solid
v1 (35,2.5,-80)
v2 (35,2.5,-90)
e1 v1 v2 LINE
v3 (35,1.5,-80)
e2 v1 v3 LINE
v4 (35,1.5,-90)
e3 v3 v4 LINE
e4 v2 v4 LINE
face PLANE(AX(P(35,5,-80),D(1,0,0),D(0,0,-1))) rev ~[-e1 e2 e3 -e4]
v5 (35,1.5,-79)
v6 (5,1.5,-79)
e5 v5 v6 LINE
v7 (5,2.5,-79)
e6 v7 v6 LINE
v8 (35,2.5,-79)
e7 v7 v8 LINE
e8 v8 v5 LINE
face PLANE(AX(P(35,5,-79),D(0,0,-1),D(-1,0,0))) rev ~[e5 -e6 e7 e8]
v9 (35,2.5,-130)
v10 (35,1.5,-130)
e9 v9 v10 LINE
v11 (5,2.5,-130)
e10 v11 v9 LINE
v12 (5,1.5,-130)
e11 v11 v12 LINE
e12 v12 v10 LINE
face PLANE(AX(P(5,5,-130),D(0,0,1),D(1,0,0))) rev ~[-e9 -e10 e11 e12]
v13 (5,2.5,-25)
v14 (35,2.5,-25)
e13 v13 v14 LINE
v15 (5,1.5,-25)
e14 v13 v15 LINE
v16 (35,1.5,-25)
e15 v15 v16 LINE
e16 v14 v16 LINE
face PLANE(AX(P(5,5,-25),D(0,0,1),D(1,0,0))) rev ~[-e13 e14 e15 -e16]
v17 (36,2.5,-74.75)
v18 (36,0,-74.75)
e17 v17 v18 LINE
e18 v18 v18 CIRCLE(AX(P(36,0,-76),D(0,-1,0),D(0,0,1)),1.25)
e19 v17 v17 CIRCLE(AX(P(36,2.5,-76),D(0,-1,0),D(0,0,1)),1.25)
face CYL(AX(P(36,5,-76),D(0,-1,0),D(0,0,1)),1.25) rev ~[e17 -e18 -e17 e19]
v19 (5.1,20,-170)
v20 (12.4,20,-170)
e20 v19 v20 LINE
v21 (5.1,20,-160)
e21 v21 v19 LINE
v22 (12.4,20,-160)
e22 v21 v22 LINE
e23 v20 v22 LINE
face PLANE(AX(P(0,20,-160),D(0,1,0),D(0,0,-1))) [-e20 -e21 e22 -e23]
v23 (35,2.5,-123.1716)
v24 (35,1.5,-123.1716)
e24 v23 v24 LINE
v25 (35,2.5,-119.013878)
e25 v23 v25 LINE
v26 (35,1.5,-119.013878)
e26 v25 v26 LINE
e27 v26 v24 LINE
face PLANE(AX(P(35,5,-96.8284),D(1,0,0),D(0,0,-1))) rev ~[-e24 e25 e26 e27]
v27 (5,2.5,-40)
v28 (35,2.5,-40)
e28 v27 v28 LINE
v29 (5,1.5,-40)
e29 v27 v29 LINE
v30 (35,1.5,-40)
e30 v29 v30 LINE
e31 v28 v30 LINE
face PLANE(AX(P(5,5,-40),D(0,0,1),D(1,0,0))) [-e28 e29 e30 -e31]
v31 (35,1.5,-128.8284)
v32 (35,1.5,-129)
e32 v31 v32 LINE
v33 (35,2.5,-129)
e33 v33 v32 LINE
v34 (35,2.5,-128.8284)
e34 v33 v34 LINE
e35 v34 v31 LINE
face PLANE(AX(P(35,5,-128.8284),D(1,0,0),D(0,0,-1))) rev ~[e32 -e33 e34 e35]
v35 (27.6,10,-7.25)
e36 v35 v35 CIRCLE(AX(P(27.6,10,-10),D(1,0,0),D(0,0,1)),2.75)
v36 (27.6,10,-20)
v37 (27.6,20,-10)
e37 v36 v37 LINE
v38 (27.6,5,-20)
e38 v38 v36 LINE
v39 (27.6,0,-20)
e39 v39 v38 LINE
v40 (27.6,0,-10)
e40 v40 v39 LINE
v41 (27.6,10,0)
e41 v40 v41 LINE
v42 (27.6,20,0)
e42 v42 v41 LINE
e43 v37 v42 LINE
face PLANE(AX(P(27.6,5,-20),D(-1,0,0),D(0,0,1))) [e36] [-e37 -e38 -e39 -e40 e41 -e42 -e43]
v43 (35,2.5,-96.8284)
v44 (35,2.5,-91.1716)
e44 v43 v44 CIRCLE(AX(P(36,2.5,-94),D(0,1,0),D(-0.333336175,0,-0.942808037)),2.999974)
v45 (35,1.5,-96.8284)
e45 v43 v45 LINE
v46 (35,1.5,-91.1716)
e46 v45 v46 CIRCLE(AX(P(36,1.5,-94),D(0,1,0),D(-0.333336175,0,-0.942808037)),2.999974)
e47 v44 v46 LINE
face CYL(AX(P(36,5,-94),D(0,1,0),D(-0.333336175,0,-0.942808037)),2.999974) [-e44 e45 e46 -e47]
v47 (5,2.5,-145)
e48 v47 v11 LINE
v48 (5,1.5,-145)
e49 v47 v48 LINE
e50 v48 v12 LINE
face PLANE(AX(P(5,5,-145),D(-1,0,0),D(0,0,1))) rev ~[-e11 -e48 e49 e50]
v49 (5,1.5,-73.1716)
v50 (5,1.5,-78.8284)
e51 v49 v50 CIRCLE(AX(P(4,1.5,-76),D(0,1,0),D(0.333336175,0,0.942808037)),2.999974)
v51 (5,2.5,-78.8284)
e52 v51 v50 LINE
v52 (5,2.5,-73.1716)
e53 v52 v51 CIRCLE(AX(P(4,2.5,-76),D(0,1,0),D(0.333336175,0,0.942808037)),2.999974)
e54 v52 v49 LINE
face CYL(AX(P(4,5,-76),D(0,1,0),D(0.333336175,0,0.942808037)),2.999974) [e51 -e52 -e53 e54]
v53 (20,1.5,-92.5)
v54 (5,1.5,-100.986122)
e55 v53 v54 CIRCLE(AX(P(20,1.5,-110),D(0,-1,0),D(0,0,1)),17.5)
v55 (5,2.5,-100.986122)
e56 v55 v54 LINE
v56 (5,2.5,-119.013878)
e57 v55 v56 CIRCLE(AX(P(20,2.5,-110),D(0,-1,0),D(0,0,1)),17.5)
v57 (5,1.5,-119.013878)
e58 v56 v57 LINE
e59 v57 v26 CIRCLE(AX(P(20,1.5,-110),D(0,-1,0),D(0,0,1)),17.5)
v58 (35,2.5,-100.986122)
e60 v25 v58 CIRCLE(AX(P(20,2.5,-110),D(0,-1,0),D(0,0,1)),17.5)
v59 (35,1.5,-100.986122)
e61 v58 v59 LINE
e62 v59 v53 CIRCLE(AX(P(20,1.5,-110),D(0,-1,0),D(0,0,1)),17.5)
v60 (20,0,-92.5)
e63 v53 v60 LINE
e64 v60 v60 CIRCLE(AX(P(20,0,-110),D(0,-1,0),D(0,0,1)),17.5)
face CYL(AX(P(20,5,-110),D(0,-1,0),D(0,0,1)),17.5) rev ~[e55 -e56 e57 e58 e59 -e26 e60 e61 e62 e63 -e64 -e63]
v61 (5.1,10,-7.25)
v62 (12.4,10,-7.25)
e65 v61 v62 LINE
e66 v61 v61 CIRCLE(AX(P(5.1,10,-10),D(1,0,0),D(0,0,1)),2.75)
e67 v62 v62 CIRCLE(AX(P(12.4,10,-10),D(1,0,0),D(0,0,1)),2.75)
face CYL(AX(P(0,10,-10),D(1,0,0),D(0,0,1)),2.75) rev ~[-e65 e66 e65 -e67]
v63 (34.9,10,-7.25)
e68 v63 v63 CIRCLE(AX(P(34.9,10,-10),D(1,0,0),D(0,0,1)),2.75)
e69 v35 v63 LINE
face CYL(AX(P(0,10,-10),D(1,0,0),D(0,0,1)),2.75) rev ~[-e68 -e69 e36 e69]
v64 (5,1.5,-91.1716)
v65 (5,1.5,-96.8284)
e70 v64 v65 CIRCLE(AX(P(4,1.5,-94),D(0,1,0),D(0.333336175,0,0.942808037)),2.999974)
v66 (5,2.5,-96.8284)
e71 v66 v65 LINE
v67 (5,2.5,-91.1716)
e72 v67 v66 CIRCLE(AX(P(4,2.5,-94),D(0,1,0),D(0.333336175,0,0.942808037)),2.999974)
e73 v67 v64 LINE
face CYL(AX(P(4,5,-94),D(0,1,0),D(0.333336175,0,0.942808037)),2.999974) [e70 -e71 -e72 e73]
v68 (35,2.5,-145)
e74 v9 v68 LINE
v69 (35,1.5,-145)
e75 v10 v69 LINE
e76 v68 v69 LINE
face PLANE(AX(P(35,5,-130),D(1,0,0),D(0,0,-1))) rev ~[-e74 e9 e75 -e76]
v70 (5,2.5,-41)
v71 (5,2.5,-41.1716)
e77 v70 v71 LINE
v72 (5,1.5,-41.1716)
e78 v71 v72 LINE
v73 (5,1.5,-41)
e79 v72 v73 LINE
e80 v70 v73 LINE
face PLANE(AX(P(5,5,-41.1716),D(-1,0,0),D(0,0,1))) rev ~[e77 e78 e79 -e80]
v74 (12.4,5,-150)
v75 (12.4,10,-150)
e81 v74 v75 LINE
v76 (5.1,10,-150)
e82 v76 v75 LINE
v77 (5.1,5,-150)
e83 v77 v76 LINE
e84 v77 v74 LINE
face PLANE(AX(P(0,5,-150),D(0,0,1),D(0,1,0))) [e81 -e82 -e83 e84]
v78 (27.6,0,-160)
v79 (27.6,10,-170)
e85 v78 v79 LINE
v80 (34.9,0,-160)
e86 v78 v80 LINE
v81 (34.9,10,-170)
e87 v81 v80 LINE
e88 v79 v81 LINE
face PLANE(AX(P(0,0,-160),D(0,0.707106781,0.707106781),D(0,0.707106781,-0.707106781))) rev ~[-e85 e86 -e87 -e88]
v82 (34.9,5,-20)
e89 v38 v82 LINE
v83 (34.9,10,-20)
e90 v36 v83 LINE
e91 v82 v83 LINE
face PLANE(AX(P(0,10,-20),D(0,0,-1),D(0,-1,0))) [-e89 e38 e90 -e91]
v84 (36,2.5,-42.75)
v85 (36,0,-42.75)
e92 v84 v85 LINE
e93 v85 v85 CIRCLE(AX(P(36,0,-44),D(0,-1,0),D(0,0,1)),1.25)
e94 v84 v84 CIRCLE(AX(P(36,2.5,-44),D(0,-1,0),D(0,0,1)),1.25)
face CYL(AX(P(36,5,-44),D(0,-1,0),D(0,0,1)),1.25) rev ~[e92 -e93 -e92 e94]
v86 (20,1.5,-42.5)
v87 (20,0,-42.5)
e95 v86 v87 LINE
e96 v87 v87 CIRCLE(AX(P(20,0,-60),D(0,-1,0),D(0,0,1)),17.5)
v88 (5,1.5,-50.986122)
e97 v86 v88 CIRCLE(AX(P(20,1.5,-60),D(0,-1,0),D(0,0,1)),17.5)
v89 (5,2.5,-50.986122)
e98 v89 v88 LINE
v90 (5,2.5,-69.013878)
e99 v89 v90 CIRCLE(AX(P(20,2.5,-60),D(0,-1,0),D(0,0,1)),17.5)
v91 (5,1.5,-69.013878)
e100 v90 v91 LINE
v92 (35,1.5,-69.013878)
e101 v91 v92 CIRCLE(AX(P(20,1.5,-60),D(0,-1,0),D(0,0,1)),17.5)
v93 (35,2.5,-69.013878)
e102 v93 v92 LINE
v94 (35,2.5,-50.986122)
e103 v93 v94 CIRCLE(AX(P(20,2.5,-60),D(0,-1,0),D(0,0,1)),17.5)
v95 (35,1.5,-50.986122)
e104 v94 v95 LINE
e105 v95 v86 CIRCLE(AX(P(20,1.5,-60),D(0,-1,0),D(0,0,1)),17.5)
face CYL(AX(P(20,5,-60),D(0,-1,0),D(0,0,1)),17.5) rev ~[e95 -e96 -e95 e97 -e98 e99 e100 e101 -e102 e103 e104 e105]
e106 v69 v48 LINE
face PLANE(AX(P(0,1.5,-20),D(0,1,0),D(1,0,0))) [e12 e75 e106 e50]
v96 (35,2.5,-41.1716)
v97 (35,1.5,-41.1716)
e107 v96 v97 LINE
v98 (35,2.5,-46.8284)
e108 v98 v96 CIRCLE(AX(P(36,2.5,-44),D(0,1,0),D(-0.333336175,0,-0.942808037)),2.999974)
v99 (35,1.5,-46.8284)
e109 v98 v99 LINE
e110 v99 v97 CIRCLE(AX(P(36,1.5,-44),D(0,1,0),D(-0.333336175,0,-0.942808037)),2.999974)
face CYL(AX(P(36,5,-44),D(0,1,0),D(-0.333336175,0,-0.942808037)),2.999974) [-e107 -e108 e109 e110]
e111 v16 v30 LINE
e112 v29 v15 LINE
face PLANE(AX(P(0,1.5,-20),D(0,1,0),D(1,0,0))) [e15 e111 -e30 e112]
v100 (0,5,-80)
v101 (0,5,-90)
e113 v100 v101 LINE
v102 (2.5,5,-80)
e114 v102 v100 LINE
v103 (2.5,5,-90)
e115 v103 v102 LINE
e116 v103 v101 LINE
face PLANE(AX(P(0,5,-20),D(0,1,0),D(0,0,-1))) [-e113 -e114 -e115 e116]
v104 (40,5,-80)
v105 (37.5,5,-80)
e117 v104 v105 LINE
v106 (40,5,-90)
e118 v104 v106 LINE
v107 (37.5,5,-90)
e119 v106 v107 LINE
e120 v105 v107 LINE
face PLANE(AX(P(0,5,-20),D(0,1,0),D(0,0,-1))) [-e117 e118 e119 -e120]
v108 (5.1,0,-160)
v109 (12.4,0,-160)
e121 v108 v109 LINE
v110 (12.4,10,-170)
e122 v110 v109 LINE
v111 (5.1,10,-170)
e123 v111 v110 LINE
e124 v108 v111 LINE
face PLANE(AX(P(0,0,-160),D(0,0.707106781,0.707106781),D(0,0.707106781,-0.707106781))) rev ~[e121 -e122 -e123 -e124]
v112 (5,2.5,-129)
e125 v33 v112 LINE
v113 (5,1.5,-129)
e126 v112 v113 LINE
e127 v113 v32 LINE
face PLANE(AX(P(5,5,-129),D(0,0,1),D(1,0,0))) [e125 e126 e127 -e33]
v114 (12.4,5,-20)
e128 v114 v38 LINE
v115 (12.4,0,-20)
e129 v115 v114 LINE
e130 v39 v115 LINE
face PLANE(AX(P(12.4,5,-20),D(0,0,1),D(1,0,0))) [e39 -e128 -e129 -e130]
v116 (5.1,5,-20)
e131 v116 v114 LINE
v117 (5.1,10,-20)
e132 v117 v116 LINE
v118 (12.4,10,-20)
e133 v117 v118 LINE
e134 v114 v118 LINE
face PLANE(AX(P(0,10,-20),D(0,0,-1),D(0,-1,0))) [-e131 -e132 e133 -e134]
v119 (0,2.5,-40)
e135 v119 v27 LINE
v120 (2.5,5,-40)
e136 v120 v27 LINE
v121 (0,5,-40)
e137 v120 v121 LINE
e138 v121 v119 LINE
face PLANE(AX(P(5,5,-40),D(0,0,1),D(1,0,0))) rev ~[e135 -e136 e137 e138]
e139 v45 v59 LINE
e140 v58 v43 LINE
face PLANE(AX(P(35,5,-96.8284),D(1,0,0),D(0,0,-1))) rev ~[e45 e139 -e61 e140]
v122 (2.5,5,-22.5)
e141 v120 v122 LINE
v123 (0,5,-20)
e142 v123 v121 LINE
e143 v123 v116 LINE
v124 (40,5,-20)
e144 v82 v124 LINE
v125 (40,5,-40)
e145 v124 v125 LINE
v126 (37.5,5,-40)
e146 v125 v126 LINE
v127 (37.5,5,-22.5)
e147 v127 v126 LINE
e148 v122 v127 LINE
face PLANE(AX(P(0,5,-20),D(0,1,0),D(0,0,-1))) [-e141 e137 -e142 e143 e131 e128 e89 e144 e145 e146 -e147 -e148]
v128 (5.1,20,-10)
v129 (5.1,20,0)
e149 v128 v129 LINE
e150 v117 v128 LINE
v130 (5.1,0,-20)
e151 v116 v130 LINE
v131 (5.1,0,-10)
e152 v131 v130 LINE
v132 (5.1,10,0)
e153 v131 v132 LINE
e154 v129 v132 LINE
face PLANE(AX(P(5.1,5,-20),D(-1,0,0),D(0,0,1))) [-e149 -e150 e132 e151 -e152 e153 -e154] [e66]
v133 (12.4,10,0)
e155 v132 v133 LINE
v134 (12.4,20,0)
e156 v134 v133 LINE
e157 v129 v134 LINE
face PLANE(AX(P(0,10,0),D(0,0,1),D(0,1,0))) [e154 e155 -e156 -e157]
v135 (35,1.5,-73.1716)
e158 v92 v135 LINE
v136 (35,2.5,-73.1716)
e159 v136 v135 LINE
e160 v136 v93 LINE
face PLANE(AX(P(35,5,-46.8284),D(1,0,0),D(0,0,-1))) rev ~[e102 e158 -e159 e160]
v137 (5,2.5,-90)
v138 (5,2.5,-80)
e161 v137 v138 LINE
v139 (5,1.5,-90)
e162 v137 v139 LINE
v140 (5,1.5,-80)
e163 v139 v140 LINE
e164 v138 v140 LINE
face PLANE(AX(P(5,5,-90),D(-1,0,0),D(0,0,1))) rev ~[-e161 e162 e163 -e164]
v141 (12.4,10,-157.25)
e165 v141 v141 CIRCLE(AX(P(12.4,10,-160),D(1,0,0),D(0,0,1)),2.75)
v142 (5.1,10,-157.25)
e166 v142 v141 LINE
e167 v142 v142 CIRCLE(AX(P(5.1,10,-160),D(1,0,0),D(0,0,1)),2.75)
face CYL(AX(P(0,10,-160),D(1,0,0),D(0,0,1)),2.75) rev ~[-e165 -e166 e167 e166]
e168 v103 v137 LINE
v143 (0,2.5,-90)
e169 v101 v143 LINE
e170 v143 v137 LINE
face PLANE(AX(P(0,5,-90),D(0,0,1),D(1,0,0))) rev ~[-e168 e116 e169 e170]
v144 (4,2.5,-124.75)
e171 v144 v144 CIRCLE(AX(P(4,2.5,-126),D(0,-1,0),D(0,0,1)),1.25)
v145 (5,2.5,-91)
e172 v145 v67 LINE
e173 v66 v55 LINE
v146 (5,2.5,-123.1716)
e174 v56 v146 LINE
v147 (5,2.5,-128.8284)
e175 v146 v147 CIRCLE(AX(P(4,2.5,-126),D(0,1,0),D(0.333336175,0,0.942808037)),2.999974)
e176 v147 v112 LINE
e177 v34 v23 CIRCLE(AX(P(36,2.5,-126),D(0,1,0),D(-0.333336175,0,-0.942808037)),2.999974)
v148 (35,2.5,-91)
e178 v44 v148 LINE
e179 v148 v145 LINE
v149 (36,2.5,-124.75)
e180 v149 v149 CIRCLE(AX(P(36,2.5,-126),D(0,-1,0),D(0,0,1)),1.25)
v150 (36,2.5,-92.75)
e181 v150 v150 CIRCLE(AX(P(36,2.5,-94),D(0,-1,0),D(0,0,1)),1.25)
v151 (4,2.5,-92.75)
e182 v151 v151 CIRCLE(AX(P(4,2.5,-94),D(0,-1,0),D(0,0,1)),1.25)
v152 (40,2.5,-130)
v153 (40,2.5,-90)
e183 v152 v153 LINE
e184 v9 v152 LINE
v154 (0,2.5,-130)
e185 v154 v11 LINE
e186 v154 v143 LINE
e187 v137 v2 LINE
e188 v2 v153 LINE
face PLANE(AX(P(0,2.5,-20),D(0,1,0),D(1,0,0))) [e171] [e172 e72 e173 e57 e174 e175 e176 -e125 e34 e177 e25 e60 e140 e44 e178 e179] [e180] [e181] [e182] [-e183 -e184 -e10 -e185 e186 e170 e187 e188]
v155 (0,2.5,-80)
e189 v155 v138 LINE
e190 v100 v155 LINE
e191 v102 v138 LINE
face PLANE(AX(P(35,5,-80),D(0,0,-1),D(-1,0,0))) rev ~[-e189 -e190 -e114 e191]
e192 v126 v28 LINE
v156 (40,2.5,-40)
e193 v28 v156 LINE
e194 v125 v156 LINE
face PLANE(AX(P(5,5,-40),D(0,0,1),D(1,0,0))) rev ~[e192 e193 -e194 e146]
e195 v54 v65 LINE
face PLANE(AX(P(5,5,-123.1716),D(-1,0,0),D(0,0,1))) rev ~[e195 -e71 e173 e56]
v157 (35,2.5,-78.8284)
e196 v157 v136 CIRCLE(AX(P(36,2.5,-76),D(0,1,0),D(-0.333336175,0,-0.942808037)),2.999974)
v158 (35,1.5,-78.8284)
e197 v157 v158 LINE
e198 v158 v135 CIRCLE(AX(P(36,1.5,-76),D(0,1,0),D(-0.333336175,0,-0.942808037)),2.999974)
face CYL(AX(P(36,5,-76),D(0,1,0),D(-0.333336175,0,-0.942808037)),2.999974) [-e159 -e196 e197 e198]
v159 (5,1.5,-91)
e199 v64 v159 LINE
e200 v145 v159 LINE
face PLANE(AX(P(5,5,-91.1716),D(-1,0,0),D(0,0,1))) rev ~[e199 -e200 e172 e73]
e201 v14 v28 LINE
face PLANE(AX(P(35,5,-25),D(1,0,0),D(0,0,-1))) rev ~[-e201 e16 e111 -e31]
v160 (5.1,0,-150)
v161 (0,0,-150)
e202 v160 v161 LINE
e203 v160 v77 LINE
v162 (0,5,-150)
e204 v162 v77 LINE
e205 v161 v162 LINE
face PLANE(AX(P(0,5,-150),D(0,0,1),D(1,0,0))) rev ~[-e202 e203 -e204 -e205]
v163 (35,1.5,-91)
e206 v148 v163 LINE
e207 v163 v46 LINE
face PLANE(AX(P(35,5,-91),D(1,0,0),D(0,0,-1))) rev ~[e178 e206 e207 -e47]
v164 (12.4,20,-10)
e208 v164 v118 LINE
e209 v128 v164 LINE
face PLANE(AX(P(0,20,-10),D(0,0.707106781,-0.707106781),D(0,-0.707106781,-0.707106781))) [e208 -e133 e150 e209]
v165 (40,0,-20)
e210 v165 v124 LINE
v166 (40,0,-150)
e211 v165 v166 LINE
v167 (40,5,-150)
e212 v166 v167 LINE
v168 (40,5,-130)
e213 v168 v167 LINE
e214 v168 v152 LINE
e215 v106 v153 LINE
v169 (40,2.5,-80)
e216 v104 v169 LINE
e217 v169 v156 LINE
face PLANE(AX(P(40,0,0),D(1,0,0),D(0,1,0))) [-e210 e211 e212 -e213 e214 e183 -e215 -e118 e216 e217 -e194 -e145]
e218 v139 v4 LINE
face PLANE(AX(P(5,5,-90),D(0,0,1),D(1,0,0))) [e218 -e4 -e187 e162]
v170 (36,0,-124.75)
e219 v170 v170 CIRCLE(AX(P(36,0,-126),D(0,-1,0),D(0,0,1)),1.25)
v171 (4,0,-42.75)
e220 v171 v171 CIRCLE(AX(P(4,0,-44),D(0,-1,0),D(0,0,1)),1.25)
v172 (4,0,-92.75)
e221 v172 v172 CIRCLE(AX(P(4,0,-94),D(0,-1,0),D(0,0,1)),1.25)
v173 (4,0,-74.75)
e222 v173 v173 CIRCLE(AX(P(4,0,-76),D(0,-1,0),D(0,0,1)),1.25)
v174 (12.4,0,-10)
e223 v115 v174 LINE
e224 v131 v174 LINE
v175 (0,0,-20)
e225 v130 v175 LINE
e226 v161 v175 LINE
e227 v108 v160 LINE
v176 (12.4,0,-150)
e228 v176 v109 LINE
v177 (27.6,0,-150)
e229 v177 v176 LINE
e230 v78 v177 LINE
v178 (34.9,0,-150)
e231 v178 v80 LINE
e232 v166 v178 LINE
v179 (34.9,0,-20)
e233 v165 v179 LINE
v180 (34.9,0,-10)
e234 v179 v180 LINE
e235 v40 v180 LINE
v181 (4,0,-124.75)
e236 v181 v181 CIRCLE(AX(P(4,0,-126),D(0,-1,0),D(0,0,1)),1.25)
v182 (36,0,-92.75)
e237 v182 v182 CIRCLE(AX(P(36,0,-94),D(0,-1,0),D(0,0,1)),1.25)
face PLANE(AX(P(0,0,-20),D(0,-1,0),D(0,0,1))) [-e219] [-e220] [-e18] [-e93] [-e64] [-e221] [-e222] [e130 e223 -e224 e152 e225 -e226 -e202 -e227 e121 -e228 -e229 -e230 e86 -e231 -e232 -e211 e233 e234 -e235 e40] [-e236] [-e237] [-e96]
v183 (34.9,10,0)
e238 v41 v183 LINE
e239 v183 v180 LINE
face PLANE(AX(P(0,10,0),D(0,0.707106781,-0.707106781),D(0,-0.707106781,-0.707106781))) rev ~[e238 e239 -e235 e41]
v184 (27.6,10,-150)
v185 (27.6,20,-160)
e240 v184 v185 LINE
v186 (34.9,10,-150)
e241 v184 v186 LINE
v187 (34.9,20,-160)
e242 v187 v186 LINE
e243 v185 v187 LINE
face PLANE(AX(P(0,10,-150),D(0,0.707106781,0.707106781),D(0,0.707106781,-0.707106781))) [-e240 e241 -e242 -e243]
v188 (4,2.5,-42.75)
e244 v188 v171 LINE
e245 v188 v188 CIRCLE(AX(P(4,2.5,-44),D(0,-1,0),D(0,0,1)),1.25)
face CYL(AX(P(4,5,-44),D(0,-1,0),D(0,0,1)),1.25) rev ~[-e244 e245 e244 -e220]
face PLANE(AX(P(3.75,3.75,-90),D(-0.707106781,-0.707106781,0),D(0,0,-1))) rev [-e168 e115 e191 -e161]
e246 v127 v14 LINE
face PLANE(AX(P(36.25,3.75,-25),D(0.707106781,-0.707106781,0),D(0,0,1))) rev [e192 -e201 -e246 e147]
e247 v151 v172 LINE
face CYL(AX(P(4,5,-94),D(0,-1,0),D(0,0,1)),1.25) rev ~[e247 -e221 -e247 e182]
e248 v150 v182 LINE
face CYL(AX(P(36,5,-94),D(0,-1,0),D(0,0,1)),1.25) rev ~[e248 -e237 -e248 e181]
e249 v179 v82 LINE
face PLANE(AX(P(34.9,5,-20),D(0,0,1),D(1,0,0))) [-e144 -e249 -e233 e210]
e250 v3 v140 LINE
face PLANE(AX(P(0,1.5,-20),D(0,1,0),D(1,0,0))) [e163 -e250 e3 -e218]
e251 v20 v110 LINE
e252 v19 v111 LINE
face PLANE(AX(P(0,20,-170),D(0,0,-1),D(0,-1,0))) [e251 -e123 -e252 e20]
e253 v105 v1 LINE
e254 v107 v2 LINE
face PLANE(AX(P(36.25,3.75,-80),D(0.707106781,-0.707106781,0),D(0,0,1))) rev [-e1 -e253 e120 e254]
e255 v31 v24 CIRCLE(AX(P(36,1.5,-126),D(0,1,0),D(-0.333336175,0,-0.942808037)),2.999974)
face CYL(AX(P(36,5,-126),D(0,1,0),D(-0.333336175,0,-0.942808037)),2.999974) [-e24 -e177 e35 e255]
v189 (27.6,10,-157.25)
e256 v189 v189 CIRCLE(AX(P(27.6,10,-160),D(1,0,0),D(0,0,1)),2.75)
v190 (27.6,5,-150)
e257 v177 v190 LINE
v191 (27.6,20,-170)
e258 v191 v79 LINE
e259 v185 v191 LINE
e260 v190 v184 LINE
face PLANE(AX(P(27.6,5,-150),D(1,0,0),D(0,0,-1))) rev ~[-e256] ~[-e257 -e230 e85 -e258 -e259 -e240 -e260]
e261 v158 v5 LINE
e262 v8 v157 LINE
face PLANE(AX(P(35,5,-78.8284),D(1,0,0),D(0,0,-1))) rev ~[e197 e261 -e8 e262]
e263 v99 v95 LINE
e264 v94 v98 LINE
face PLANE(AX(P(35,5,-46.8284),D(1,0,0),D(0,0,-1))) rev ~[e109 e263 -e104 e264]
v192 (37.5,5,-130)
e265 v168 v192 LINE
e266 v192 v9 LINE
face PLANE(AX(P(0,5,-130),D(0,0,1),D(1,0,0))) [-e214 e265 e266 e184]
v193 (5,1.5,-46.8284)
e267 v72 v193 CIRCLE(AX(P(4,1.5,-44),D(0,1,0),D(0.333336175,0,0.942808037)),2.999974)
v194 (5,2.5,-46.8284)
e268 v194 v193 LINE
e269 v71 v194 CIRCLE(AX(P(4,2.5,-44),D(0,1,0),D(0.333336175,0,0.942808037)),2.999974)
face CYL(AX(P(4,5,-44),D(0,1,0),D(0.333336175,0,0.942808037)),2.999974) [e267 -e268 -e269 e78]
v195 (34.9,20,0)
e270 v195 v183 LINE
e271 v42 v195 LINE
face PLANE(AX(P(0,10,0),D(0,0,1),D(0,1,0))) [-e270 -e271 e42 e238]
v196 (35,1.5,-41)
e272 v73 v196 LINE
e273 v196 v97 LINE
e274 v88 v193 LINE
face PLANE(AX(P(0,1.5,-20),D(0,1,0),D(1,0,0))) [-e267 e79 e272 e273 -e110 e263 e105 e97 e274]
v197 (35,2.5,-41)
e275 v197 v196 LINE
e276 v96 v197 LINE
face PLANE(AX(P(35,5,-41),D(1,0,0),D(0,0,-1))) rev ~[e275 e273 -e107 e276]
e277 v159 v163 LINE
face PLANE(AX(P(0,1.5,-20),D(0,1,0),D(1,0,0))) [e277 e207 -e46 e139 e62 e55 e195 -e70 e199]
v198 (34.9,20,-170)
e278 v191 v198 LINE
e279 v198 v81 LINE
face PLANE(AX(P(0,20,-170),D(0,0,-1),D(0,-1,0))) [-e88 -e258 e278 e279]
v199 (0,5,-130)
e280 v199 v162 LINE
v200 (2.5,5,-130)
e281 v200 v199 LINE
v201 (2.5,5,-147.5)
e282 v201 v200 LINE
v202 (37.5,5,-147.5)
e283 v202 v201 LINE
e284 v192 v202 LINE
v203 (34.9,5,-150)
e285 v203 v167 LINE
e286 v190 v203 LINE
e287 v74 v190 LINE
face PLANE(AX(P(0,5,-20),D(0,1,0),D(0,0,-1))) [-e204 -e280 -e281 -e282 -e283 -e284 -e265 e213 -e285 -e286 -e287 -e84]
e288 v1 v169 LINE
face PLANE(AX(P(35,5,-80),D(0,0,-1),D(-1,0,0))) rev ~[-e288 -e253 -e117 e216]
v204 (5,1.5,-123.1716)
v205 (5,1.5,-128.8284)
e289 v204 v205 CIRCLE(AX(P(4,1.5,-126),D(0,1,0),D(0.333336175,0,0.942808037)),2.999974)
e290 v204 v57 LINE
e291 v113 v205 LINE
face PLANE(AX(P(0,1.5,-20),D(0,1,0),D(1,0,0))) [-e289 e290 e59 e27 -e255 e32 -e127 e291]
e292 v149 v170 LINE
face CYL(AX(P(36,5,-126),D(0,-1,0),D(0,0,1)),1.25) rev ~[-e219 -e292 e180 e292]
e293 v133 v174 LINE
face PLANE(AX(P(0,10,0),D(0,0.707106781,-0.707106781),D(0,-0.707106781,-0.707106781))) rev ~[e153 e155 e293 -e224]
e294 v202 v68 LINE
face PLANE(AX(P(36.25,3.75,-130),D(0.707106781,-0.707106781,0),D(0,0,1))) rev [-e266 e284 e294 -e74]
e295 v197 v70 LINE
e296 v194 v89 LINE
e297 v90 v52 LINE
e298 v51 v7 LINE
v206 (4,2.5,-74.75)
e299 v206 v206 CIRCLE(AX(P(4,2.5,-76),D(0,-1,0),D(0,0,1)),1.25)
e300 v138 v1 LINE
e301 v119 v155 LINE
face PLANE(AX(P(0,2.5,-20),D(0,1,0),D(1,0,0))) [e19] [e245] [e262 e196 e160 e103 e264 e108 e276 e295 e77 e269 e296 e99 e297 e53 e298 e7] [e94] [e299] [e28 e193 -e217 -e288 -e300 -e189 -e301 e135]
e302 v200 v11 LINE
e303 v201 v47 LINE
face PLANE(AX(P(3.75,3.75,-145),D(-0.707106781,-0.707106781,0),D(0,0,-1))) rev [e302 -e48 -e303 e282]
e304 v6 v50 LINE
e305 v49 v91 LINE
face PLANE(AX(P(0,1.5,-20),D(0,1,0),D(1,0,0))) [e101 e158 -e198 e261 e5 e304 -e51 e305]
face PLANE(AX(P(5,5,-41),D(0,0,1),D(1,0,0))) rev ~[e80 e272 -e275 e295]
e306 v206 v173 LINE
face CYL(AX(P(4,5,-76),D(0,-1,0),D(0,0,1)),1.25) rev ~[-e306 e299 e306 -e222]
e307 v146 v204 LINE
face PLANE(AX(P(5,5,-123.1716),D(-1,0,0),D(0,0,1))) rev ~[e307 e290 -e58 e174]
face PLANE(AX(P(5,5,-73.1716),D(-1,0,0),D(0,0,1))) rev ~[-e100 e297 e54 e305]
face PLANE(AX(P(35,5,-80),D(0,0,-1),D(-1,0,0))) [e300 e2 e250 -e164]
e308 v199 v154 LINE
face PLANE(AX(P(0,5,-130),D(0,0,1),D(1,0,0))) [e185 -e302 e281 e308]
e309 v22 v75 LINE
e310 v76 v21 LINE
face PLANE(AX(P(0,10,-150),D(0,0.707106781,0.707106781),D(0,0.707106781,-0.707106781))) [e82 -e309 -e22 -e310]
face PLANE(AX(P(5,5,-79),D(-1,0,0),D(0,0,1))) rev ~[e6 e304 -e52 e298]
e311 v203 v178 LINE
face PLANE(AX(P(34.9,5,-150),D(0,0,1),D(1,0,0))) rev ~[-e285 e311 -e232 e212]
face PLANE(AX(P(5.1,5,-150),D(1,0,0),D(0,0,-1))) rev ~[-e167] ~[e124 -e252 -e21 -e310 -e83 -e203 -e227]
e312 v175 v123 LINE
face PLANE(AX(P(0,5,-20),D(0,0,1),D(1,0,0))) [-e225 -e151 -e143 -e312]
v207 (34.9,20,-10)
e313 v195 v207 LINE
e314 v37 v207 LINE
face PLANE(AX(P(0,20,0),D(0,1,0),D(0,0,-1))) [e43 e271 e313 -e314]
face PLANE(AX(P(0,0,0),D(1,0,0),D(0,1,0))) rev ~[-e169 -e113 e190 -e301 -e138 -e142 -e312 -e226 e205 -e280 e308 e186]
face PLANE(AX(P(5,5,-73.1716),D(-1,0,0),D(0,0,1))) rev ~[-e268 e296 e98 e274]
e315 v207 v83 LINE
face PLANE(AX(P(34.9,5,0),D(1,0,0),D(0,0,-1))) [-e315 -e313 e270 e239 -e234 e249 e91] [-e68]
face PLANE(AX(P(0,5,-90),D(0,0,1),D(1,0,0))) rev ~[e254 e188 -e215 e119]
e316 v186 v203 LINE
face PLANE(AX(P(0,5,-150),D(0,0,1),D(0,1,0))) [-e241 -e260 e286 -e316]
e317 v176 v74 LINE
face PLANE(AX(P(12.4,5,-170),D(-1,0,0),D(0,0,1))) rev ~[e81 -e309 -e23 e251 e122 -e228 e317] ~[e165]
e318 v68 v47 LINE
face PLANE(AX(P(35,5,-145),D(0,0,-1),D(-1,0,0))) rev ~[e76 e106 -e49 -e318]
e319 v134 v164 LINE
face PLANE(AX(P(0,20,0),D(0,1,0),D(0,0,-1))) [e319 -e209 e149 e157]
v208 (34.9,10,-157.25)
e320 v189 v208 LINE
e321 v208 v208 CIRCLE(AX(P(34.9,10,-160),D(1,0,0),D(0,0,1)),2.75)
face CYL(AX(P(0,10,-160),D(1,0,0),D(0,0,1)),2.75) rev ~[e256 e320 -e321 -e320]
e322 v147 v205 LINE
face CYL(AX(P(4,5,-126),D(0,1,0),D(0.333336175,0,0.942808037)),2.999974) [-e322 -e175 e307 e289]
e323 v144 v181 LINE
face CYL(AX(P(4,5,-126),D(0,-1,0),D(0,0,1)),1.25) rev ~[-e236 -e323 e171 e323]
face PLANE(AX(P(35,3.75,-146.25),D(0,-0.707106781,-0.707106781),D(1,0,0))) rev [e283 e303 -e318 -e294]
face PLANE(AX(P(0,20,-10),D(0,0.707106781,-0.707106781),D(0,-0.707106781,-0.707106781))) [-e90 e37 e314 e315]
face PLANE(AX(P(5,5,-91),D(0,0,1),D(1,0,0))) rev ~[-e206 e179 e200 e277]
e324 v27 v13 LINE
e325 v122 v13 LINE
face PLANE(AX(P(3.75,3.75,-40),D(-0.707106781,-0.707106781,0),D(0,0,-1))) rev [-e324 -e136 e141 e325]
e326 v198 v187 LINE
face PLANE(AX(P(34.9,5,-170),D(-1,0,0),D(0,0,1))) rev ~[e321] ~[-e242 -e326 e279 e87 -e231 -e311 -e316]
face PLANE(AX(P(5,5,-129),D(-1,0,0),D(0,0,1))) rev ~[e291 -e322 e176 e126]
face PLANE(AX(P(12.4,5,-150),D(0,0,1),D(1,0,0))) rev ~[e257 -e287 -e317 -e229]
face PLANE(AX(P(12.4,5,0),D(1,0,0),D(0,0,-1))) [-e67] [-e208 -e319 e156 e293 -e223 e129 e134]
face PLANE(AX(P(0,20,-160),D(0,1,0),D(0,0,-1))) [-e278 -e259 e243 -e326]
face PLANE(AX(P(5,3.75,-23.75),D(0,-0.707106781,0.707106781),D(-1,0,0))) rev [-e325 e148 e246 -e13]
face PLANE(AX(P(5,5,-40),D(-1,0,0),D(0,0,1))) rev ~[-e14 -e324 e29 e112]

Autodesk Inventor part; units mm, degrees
ref_plane "YZ Plane" through (0, 0, 0) normal (1, 0, 0) x (0, 1, 0)
ref_plane "XZ Plane" through (0, 0, 0) normal (0, 1, 0) x (-1, 0, 0)
ref_plane "XY Plane" through (0, 0, 0) normal (0, 0, 1) x (1, 0, 0)
sketch "Base Profile" plane through (0, 0, 0) normal (1, 0, 0) x (0, 1, 0)
  line L0 (10, 0) -> (20, 0)
  line L1 (20, 0) -> (20, -10)
  line L2 (10, -20) -> (5, -20)
  line L3 (0, -20) -> (0, -10)
  line L4 (0, -20) -> (0, -150)
  line L5 (5, -20) -> (5, -150)
  line L6 (5, -150) -> (10, -150)
  line L7 (20, -160) -> (20, -170)
  line L8 (20, -170) -> (10, -170)
  line L9 (0, -160) -> (0, -150)
  line L10 (0, -160) -> (10, -170)
  line L11 (10, 0) -> (0, -10)
  line L12 (20, -10) -> (10, -20)
  line L13 (10, -150) -> (20, -160)
  point P0 (0, 0)
  point P1 (20, -20)
  point P2 (10, -10)
  point P3 (20, -150)
  point P4 (0, -170)
  point P5 (10, -160)
  dimension "d0" = 20
  dimension "d1" = 20
  dimension "d3" = 130
  dimension "d4" = 5
  dimension "d5" = 20
  dimension "d6" = 20
extrude "Base Extrusion" add sketch "Base Profile" along normal blind 40
hole "Fixing Holes" at (0, 10, -160) at (0, 10, -10) direction (1, 0, 0) diameter 5.5 end through all
sketch "Cutouts and Structure" plane through (0, 5, -20) normal (0, 1, 0) x (1, 0, 0)
  line L0 (5, 5) -> (35, 5)
  line L1 (35, 125) -> (5, 125)
  line L2 (0, 130) -> (0, 0) projected
  line L3 (40, 130) -> (40, 0) projected
  line L4 (0, 0) -> (40, 0) projected
  line L5 (0, 130) -> (40, 130) projected
  line L6 (0, 20) -> (40, 20)
  line L7 (40, -10) -> (40, 140) projected
  line L8 (40, 60) -> (0, 60)
  line L9 (0, -10) -> (0, 140) projected
  line L10 (0, 70) -> (40, 70)
  line L11 (0, 110) -> (40, 110)
  line L12 (37, 127) -> (3, 127)
  line L13 (3, -10) -> (3, 0)
  line L14 (0, 65) -> (40, 65) construction
  line L15 (0, 21) -> (40, 21)
  line L16 (40, 59) -> (0, 59)
  line L17 (0, 71) -> (40, 71)
  line L18 (0, 109) -> (40, 109)
  arc A0 (5, 21.1716) -> (5, 26.8284) centre (4, 24) ccw
  arc A1 (5, 53.1716) -> (5, 58.8284) centre (4, 56) ccw
  line L19 (5, 53.1716) -> (5, 26.8284)
  line L20 (5, 21.1716) -> (5, 5)
  arc A2 (35, 26.8284) -> (35, 21.1716) centre (36, 24) ccw
  arc A3 (35, 58.8284) -> (35, 53.1716) centre (36, 56) ccw
  arc A4 (35, 76.8284) -> (35, 71.1716) centre (36, 74) ccw
  arc A5 (35, 108.8284) -> (35, 103.1716) centre (36, 106) ccw
  arc A6 (5, 103.1716) -> (5, 108.8284) centre (4, 106) ccw
  arc A7 (5, 71.1716) -> (5, 76.8284) centre (4, 74) ccw
  line L21 (5, 71.1716) -> (5, 58.8284)
  line L22 (5, 125) -> (5, 108.8284)
  line L23 (5, 103.1716) -> (5, 76.8284)
  line L24 (35, 108.8284) -> (35, 125)
  line L25 (35, 58.8284) -> (35, 71.1716)
  line L26 (35, 76.8284) -> (35, 103.1716)
  line L27 (35, 5) -> (35, 21.1716)
  line L28 (35, 26.8284) -> (35, 53.1716)
  line L29 (0, 130) -> (5.1, 130)
  line L30 (5.1, 130) -> (5.1, 150)
  line L31 (5.1, 150) -> (0, 150)
  line L32 (0, 150) -> (0, 130)
  line L33 (12.4, 130) -> (27.6, 130)
  line L34 (27.6, 130) -> (27.6, 150)
  line L35 (27.6, 150) -> (12.4, 150)
  line L36 (12.4, 150) -> (12.4, 130)
  line L37 (40, 140) -> (40, 150) projected
  line L38 (40, 150) -> (34.9, 150)
  line L39 (34.9, 150) -> (34.9, 130)
  line L40 (34.9, 130) -> (40, 130)
  line L41 (40, 130) -> (40, 150)
  line L42 (0, 0) -> (5.1, 0)
  line L43 (5.1, 0) -> (5.1, -20)
  line L44 (5.1, -20) -> (0, -20)
  line L45 (0, -20) -> (0, 0)
  line L46 (12.4, 0) -> (27.6, 0)
  line L47 (27.6, 0) -> (27.6, -20)
  line L48 (27.6, -20) -> (12.4, -20)
  line L49 (12.4, -20) -> (12.4, 0)
  line L50 (40, -20) -> (34.9, -20)
  line L51 (34.9, -20) -> (34.9, 0)
  line L52 (34.9, 0) -> (40, 0)
  line L53 (40, 0) -> (40, -20)
  point P0 (5, 109)
  point P1 (35, 109)
  point P2 (5, 71)
  point P3 (35, 71)
  point P4 (5, 59)
  point P5 (35, 59)
  point P6 (35, 21)
  point P7 (5, 21)
  point P8 (35, 20)
  point P9 (5, 20)
  point P10 (5, 110)
  point P11 (35, 110)
  point P12 (5, 70)
  point P13 (35, 70)
  point P14 (5, 60)
  point P15 (35, 60)
  point P16 (20, 40)
  point P17 (20, 90)
  dimension "d165" = 5
  dimension "d166" = 5
  dimension "d167" = 10
  dimension "d168" = 20
  dimension "d169" = 20
  dimension "d170" = 40
  dimension "d171" = 40
  dimension "d176" = 4
  dimension "d177" = 4
  dimension "d180" = 32
  dimension "d183" = 32
  dimension "d188" = 1
  dimension "d189" = 1
  dimension "d190" = 1
  dimension "d191" = 1
  dimension "d201" = 6
  dimension "d202" = 6
  dimension "d203" = 6
  dimension "d204" = 6
  dimension "d205" = 6
  dimension "d206" = 6
  dimension "d207" = 6
  dimension "d208" = 6
  dimension "d221" = 5.1
  dimension "d222" = 20
  dimension "d223" = 15.2
  dimension "d224" = 20
  dimension "d225" = 5.1
  dimension "d226" = 20
  dimension "d227" = 7.3
extrude "Structure Subtract" cut sketch "Cutouts and Structure" against normal blind 3.5 contours L20 L6 L27 L0 | L20 A0 L19 A1 L21 L16 L25 A3 L28 A2 L27 L15 | L21 L10 L25 L8 | L21 A7 L23 A6 L22 L18 L24 A5 L26 A4 L25 L17 | L22 L1 L24 L11
extrude "Fan Cutout Subtract" cut sketch "Cutouts and Structure" against normal blind 2.5 contours L20 L15 L27 L6 | L6 L2 L15 L20 | L27 L15 L3 L6 | L20 A0 L19 A1 L21 L16 L25 A3 L28 A2 L27 L15 | L15 L2 L16 L21 A1 L19 A0 L20 | L27 A2 L28 A3 L25 L16 L3 L15 | L2 L8 L21 L16 | L16 L25 L8 L3 | L21 L8 L25 L16 | L2 L17 L21 L10 | L10 L25 L17 L3 | L2 L18 L22 A6 L23 A7 L21 L17 | L21 L17 L25 L10 | L17 L25 A4 L26 A5 L24 L18 L3 | L2 L11 L22 L18 | L21 A7 L23 A6 L22 L18 L24 A5 L26 A4 L25 L17 | L18 L24 L11 L3 | L22 L11 L24 L18
hole "Fan Mounting Holes" at (4, 5, -44) at (4, 5, -76) at (36, 5, -44) at (36, 5, -76) at (4, 5, -126) at (4, 5, -94) at (36, 5, -94) at (36, 5, -126) direction (0, -1, 0) diameter 2.5 end through all
hole "Fan Airholes" at (20, 5, -60) at (20, 5, -110) direction (0, -1, 0) diameter 35 end through all
chamfer "Structure Clearance" distance 2.5 angle 45 8 edges at (35, 5, -137.5) (20, 5, -145) (5, 5, -137.5) (5, 5, -32.5) (20, 5, -25) (35, 5, -32.5) (5, 5, -85) (35, 5, -85)
extrude "Extrusion6" cut sketch "Cutouts and Structure" against normal through all both and the other way through all contours L4 L43 L44 L45 L9 | L7 L53 L50 L51 L4 | L47 L48 L49 L4 | L9 L32 L31 L30 L5 | L5 L39 L38 L37 L7 | L36 L35 L34 L5
equation "\"d168\" = d169"
properties part number "Prod05.3.3 - SKR1.4 Turbo Case Back 2"
